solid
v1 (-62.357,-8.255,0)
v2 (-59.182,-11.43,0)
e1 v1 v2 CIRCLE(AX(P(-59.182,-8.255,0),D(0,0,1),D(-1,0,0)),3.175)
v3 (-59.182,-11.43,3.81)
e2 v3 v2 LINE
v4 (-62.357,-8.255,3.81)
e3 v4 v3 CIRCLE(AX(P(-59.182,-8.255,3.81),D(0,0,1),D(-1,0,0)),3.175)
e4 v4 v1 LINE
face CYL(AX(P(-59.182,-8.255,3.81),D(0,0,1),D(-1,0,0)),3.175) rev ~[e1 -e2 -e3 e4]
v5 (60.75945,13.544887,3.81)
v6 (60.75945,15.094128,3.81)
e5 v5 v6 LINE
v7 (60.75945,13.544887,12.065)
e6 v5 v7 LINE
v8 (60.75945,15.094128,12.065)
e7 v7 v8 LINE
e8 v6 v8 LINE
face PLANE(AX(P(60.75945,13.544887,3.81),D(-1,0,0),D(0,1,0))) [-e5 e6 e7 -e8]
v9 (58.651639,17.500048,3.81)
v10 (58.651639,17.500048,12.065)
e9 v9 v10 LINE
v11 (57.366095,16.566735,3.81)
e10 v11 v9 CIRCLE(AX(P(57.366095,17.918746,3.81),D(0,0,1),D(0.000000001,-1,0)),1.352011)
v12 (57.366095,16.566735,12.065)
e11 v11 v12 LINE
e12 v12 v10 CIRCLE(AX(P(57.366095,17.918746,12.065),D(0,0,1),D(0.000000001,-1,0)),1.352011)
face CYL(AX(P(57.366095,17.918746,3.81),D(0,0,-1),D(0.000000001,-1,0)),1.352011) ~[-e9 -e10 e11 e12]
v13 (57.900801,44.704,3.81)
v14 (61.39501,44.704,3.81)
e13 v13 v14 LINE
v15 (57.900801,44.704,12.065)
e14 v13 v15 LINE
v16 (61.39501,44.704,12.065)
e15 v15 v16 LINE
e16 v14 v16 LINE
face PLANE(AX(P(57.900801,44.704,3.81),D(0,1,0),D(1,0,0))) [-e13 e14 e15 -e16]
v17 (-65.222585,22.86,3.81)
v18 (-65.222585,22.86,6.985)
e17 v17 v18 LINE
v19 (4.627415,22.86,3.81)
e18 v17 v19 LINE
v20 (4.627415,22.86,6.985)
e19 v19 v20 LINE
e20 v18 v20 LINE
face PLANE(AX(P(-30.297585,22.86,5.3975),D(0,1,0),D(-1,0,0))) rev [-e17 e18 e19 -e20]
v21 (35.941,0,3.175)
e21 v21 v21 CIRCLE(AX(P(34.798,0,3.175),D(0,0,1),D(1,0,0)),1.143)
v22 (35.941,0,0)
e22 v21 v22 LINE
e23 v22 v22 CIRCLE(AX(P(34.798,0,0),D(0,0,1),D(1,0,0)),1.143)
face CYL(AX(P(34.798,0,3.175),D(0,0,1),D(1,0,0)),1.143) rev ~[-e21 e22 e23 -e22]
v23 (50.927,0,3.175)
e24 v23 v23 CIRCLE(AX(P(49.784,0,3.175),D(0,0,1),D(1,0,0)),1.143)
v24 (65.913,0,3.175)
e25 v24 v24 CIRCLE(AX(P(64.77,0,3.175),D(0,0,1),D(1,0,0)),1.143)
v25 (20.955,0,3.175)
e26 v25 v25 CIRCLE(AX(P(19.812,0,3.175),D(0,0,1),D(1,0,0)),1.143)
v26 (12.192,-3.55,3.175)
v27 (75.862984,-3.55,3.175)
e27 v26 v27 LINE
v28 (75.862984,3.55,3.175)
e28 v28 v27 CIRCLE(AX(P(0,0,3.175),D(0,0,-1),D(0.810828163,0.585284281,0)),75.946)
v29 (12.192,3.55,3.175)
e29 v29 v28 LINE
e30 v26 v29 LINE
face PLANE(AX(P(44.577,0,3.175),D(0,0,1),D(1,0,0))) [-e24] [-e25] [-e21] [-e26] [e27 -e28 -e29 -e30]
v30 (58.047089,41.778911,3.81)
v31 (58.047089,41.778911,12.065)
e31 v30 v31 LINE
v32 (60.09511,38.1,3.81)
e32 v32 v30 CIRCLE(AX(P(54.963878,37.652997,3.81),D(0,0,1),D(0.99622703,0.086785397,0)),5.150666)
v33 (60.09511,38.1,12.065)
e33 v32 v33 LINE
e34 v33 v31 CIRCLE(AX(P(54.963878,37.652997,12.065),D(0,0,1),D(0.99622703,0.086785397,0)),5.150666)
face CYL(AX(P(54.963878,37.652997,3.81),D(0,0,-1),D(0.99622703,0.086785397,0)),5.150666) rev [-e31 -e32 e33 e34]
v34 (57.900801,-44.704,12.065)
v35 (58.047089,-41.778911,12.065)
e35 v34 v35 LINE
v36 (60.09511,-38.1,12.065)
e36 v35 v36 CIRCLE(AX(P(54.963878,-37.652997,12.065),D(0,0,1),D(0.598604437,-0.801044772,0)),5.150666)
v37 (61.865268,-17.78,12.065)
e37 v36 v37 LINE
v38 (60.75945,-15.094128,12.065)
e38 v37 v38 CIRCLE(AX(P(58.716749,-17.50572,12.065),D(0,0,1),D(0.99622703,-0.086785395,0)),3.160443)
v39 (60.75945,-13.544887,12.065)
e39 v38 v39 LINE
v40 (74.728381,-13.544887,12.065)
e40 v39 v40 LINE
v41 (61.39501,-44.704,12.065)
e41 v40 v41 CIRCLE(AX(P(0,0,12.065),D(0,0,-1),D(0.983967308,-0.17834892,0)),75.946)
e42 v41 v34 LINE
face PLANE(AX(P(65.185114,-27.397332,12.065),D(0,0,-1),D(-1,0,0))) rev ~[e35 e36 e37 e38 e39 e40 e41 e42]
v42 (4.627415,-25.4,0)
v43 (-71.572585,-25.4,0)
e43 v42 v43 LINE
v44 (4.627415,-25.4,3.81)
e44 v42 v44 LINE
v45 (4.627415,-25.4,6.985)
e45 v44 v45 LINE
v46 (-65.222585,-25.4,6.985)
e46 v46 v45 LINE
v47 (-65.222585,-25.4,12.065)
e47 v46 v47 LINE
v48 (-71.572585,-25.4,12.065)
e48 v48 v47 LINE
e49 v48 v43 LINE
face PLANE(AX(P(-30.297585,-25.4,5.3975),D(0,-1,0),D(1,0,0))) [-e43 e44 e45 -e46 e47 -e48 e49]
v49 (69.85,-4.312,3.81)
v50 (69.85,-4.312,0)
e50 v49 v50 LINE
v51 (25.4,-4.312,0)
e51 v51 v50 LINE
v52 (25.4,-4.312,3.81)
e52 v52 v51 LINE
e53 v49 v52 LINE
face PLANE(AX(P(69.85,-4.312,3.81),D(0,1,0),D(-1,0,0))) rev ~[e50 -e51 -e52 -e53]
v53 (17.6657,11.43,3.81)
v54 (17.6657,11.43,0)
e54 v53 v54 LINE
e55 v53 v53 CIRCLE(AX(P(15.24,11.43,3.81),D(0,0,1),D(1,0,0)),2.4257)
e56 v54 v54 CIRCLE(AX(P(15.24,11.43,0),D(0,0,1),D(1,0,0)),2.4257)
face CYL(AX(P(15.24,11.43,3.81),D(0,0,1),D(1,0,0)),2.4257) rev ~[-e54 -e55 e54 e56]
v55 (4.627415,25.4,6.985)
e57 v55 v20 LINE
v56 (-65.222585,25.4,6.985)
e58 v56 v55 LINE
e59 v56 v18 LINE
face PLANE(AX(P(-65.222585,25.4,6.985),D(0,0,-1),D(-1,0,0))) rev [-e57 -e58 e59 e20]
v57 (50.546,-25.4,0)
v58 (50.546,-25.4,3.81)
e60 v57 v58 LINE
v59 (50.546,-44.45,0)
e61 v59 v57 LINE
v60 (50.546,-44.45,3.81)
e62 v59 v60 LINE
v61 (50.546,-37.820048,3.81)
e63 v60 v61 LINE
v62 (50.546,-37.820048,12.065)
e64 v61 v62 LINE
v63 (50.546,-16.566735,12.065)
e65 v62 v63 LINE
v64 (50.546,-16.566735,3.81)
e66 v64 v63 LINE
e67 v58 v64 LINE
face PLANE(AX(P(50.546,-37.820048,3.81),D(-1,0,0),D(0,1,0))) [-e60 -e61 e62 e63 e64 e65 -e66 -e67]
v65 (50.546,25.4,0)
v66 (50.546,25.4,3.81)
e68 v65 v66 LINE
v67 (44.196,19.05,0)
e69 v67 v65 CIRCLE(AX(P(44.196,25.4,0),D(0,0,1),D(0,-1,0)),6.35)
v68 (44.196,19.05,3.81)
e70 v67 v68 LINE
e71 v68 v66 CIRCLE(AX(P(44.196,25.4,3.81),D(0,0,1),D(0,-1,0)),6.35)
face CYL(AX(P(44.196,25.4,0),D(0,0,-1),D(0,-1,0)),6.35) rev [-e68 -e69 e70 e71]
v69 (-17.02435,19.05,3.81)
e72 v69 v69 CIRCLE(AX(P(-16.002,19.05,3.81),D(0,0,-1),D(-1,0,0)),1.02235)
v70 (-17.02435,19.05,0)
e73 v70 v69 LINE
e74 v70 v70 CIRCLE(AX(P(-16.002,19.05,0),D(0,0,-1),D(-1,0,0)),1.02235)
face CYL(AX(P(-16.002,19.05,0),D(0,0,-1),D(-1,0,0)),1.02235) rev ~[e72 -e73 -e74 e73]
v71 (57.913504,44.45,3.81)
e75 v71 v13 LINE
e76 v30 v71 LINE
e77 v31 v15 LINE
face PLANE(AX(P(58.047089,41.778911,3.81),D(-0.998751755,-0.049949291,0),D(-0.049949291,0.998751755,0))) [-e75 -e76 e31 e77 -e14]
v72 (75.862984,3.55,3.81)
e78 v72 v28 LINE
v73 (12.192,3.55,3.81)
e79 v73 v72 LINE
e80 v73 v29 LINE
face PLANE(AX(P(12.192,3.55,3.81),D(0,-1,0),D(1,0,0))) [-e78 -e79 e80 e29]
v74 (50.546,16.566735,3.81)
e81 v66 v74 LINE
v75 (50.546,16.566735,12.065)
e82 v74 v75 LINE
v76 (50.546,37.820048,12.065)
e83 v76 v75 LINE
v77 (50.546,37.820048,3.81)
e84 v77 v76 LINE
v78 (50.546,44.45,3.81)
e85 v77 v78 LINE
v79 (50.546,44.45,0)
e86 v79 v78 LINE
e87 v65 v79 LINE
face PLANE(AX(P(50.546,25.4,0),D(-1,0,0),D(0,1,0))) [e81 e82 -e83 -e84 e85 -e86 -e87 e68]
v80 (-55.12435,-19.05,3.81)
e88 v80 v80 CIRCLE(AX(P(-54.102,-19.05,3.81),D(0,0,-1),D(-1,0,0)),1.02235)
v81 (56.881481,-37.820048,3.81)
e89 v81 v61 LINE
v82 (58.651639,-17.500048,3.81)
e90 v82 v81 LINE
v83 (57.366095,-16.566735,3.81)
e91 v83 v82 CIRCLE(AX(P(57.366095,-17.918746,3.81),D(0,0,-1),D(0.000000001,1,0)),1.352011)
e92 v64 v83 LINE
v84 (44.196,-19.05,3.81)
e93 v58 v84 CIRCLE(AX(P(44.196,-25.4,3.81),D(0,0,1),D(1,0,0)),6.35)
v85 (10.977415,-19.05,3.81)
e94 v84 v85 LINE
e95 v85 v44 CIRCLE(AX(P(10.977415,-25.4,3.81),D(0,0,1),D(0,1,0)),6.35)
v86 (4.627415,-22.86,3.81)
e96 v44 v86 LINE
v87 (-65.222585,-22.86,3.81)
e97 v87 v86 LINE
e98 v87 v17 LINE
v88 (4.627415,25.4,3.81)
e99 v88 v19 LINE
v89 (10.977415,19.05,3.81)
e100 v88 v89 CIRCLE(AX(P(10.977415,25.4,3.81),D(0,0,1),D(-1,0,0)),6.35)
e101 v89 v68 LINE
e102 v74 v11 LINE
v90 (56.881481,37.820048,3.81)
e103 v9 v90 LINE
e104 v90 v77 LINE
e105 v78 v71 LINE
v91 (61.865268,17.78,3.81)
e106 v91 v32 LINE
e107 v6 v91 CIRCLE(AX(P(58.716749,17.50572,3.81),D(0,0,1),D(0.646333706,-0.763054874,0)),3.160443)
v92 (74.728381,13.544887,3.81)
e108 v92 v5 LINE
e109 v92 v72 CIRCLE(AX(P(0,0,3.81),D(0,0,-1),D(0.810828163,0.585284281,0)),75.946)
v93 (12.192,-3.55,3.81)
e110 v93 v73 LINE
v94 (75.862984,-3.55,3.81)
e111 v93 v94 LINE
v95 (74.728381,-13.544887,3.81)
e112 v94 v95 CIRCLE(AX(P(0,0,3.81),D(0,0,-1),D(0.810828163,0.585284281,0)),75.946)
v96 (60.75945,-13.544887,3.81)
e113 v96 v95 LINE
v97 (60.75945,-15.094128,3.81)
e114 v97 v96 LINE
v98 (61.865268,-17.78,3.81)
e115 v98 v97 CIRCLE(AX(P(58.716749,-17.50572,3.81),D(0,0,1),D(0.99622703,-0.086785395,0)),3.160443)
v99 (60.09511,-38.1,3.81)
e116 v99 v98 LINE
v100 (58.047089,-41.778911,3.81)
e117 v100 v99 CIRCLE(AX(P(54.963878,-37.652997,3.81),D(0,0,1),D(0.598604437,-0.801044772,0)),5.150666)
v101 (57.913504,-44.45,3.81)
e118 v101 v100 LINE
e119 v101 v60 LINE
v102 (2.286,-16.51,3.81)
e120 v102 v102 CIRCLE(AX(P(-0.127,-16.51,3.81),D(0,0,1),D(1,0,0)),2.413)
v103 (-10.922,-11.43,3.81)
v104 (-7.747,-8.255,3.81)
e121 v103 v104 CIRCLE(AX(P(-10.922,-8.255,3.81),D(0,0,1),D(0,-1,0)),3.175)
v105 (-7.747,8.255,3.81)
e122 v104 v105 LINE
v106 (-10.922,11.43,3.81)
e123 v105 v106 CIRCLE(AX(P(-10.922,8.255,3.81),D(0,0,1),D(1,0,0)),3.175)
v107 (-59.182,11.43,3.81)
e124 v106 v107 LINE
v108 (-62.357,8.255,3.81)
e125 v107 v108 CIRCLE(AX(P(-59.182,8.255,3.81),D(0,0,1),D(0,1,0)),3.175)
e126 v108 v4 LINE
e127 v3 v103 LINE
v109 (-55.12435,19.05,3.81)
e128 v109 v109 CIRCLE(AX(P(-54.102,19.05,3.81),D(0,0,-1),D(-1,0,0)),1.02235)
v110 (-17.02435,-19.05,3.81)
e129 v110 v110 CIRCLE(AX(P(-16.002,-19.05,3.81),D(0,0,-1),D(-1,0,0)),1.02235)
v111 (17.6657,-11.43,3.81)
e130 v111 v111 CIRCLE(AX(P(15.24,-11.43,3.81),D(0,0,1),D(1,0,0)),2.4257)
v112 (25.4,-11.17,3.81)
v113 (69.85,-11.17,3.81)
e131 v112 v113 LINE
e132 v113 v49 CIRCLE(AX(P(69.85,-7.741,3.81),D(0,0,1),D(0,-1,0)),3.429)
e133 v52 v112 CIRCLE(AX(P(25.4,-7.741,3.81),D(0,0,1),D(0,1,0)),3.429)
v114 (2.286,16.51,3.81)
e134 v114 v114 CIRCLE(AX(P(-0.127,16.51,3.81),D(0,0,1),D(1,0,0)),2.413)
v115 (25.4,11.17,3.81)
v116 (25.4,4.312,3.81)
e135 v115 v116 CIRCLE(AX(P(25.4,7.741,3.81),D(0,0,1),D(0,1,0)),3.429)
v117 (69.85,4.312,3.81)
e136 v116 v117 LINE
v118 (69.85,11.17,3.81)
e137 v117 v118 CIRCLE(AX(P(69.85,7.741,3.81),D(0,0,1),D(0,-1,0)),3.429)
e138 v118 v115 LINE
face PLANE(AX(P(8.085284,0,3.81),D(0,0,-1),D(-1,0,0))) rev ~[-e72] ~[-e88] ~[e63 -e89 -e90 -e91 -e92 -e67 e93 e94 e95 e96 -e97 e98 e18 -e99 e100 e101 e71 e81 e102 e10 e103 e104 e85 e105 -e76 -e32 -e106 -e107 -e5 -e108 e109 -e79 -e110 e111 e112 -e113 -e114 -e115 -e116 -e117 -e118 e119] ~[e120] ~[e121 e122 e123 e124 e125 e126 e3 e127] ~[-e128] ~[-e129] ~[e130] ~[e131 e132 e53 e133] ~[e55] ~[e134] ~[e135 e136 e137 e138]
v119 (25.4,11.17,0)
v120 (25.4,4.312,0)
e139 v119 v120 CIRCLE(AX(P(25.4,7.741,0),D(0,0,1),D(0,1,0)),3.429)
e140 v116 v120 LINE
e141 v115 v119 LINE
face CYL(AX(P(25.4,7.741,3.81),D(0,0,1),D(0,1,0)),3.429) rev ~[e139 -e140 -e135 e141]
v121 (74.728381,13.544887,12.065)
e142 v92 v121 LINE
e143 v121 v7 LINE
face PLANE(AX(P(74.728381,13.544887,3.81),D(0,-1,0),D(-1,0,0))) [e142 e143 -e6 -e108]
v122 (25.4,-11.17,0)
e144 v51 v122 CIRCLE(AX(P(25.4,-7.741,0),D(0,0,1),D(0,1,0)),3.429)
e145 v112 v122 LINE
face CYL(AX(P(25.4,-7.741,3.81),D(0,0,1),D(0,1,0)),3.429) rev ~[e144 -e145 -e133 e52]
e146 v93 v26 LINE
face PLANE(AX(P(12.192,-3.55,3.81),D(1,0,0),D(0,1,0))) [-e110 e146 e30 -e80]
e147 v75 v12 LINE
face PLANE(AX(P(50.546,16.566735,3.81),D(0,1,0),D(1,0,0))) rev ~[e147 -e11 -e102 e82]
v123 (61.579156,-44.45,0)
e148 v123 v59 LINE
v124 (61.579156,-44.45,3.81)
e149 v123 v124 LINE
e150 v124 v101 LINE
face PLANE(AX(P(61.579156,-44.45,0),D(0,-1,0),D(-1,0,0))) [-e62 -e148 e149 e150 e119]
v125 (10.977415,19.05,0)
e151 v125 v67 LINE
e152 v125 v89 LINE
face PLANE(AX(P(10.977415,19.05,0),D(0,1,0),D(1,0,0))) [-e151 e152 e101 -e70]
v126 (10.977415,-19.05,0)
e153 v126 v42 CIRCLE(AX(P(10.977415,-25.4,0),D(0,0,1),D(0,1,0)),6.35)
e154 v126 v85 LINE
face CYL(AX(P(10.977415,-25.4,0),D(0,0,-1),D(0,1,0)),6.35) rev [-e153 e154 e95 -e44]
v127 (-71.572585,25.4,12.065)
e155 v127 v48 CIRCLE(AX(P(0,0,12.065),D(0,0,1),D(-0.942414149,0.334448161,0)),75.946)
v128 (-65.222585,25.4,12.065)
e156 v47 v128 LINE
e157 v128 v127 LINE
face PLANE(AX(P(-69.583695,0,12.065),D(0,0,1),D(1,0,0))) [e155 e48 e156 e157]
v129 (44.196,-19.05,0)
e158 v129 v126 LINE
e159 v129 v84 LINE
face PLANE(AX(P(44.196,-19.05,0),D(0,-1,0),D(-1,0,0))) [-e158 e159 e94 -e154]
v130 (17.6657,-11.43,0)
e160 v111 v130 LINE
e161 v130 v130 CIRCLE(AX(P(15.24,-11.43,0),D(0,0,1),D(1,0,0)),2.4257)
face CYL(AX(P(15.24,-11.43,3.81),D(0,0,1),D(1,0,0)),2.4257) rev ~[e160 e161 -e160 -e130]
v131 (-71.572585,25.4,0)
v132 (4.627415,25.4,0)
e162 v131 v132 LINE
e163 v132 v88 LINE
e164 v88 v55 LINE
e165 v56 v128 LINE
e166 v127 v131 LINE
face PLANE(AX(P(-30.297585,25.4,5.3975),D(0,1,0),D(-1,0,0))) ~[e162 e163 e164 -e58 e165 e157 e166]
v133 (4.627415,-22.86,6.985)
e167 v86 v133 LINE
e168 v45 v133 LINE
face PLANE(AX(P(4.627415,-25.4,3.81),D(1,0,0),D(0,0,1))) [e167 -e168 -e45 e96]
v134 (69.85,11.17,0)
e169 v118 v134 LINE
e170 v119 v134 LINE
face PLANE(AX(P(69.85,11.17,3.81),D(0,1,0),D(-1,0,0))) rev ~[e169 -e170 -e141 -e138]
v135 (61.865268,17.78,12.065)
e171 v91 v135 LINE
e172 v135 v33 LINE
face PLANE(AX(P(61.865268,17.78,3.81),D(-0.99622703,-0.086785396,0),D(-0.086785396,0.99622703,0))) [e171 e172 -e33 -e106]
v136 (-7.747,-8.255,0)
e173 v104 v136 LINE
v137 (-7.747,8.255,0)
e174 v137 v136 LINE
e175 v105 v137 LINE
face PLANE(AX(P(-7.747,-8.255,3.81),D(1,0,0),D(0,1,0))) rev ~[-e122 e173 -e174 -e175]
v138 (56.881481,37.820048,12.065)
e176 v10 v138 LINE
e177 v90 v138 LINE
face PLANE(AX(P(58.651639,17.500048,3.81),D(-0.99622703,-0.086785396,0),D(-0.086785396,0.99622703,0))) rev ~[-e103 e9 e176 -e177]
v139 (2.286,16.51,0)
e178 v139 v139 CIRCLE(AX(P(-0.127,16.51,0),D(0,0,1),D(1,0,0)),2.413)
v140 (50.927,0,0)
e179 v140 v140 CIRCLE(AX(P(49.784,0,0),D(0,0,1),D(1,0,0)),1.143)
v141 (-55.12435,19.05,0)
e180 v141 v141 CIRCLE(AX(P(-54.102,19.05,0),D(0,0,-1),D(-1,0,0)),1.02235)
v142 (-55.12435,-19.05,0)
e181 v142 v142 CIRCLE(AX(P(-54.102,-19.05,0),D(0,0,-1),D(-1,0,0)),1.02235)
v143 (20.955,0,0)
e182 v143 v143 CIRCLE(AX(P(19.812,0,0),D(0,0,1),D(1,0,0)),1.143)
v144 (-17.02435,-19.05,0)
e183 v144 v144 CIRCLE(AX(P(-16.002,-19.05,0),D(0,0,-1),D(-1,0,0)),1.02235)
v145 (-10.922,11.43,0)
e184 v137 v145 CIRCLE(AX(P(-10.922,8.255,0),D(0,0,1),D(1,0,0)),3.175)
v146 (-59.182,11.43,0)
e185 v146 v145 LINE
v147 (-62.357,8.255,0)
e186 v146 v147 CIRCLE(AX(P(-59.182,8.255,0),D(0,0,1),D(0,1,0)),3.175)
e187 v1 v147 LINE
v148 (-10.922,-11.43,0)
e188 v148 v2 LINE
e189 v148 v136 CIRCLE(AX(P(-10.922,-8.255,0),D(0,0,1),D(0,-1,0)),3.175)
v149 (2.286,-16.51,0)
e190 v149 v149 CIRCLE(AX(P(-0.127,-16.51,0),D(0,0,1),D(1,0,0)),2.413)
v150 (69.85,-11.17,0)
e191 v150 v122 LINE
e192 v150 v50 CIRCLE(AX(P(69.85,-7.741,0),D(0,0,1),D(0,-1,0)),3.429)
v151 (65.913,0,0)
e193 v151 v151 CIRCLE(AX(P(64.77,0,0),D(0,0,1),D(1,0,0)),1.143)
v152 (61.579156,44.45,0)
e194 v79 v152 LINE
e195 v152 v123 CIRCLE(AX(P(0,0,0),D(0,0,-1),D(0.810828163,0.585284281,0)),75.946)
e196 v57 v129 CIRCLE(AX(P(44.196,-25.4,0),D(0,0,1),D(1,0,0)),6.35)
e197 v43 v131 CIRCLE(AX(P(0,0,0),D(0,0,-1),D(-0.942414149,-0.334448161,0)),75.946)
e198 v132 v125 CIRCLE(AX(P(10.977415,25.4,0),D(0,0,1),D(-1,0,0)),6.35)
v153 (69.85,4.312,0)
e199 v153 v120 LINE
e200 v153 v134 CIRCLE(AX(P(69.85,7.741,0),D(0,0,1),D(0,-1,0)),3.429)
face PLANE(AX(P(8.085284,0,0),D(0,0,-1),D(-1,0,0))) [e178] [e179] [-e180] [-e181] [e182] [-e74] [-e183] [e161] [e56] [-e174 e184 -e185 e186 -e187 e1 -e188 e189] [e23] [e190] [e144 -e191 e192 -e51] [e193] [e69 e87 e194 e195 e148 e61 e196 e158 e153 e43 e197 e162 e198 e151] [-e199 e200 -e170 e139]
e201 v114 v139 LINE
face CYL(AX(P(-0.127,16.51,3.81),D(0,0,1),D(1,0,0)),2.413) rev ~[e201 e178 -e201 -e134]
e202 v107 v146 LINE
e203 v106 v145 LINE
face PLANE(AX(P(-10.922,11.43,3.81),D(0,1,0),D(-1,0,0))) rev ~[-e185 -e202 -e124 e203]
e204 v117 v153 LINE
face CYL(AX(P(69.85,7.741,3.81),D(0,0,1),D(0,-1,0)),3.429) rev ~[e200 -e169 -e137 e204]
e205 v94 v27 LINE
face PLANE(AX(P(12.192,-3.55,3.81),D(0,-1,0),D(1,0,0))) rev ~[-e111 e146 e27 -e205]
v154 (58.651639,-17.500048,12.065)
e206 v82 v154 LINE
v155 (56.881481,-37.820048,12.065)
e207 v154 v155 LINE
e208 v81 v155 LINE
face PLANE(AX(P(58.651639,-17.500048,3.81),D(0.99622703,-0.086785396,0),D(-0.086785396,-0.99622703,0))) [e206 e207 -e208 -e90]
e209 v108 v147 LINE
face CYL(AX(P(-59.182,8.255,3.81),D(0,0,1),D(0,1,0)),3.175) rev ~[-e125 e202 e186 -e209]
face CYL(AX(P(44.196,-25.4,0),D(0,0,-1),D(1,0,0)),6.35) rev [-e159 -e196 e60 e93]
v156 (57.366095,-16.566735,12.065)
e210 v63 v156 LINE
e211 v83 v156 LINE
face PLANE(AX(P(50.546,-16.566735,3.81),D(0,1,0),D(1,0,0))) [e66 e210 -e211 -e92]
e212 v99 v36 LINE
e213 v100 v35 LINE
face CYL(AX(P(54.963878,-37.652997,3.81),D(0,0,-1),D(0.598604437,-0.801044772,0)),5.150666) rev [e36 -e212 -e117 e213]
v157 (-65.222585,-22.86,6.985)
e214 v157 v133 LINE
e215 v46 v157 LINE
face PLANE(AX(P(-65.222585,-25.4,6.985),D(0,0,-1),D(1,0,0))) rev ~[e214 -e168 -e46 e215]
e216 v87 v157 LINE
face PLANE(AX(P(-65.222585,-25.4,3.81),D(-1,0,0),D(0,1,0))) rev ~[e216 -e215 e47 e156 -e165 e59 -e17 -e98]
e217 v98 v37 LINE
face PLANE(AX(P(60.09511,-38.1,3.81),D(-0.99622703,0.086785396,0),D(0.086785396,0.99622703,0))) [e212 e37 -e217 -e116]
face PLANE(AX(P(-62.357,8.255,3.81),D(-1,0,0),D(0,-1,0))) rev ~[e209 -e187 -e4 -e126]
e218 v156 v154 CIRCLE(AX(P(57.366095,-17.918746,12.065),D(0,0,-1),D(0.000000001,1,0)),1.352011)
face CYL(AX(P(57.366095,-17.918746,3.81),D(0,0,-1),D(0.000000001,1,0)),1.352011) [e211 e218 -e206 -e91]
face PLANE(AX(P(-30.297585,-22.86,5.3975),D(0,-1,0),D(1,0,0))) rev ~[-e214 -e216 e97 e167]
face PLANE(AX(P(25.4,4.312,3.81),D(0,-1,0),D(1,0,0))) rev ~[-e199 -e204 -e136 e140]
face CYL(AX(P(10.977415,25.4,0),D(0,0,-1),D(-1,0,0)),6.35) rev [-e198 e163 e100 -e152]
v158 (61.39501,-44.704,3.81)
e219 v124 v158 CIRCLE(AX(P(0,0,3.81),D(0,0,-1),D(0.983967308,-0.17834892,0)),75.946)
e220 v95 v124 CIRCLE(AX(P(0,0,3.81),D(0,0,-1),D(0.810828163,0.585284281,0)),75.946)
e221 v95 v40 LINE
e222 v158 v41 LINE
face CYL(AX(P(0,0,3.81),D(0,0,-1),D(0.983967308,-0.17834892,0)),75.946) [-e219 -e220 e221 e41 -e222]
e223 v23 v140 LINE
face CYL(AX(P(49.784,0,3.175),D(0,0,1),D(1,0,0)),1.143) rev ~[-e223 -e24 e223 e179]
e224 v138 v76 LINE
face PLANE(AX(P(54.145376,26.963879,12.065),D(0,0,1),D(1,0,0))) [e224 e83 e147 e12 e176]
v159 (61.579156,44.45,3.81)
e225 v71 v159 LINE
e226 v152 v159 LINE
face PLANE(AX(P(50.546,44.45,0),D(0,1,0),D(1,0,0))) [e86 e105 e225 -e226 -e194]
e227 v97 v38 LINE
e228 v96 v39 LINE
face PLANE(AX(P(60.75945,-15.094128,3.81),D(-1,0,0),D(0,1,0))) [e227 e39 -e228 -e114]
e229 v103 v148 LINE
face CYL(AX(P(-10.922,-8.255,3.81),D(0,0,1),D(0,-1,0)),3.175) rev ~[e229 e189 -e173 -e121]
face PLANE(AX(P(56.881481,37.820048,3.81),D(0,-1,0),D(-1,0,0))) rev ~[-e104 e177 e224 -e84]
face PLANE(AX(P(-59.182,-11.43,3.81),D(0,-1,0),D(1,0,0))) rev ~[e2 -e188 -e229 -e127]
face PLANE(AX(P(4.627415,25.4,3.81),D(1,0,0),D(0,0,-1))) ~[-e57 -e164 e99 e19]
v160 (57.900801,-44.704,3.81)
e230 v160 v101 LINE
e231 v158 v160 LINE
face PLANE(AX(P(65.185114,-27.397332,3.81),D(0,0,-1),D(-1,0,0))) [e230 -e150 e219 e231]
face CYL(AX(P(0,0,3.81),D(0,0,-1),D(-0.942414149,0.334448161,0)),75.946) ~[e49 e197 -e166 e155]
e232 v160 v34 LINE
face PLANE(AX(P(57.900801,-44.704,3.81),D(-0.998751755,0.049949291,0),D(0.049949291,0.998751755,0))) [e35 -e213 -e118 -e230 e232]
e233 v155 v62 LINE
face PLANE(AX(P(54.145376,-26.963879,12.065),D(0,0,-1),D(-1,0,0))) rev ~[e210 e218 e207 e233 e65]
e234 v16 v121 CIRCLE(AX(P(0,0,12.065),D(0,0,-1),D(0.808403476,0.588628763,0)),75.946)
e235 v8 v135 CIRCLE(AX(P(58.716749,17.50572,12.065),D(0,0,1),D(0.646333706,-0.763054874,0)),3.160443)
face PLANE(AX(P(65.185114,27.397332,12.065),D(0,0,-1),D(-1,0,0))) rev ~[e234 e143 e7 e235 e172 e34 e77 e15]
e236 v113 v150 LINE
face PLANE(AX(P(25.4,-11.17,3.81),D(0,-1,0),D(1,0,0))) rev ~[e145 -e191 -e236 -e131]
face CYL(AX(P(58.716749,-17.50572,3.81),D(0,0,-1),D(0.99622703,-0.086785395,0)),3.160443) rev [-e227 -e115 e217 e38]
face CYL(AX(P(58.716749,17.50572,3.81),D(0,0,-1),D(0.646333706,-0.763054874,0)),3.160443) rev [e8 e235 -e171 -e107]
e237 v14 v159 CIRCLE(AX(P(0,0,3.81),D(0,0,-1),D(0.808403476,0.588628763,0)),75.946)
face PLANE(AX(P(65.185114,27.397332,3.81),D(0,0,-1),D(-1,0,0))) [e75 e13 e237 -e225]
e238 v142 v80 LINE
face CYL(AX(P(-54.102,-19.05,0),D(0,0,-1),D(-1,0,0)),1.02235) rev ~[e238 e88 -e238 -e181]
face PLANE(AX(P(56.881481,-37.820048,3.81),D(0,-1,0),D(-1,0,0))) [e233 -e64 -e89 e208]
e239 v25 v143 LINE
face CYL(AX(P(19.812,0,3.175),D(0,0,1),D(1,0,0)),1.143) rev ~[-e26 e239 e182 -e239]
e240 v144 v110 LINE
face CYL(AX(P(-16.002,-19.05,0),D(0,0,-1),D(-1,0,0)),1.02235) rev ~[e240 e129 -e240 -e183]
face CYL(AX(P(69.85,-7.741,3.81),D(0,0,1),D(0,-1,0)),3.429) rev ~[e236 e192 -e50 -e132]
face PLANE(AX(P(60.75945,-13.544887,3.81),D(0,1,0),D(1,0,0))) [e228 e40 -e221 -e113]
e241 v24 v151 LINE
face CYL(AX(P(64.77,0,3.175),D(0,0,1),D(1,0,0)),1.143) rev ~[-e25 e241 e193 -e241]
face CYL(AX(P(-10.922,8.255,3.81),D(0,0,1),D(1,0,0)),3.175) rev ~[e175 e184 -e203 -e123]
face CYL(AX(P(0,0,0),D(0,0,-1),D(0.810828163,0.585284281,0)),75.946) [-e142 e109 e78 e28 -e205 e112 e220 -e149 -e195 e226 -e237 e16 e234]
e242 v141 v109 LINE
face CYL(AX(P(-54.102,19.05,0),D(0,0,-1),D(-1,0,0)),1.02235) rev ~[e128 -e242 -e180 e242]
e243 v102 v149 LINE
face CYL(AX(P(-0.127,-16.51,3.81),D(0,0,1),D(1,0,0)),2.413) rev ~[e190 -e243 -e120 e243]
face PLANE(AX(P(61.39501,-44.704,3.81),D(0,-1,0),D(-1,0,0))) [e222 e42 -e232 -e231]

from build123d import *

# Parameters (mm, degrees)
BOSS_EXTRUDE1_DEPTH = 3.81
BOSS_EXTRUDE2_DEPTH = 8.255
SKETCH3_W           = 64.77
SKETCH3_H           = 7.1
CUT_EXTRUDE1_DEPTH  = 0.635
CUT_EXTRUDE4_DEPTH  = 4.81
CUT_EXTRUDE5_DEPTH  = 4.81
SKETCH12_R          = 2.4257
CUT_EXTRUDE6_DEPTH  = 4.81
SKETCH4_R           = 1.143
CUT_EXTRUDE2_DEPTH  = 11.43
SKETCH17_R          = 2.413
CUT_EXTRUDE9_DEPTH  = 4.81
BOSS_EXTRUDE5_DEPTH = 8.255
SKETCH20_W          = 69.85
SKETCH20_H          = 3.175
BOSS_EXTRUDE6_DEPTH = 2.54
SKETCH21_R          = 1.02235
CUT_EXTRUDE10_DEPTH = 13.065


with BuildPart() as part:
    # Sketch1 → Boss-Extrude1 (new body)
    with BuildSketch(Plane.XY):
        with BuildLine():
            Line((10.977415053, 19.05), (44.196, 19.05))
            ThreePointArc((44.196, 19.05), (48.686128061, 20.909871939), (50.546, 25.4))
            Line((50.546, 25.4), (50.546, 44.45))
            Line((50.546, 44.45), (61.579155694, 44.45))
            ThreePointArc((61.579155694, 44.45), (75.946, 0), (61.579155694, -44.45))
            Line((61.579155694, -44.45), (50.546, -44.45))
            Line((50.546, -44.45), (50.546, -25.4))
            ThreePointArc((50.546, -25.4), (48.686128061, -20.909871939), (44.196, -19.05))
            Line((44.196, -19.05), (10.977415053, -19.05))
            ThreePointArc((10.977415053, -19.05), (6.487286992, -20.909871939), (4.627415053, -25.4))
            Line((4.627415053, -25.4), (-71.572584947, -25.4))
            ThreePointArc((-71.572584947, -25.4), (-75.946, 0), (-71.572584947, 25.4))
            Line((-71.572584947, 25.4), (4.627415053, 25.4))
            ThreePointArc((4.627415053, 25.4), (6.487286992, 20.909871939), (10.977415053, 19.05))
        make_face()
    extrude(amount=BOSS_EXTRUDE1_DEPTH)

    # Sketch2 → Boss-Extrude2 (add)
    with BuildSketch(Plane.XY.offset(3.81)):
        with BuildLine():
            Line((61.865268471, 17.78), (60.095110466, 38.1))
            ThreePointArc((60.095110466, 38.1), (59.464196764, 40.158289632), (58.047089349, 41.778911391))
            Line((58.047089349, 41.778911391), (57.900800643, 44.704))
            Line((57.900800643, 44.704), (61.395010384, 44.704))
            ThreePointArc((61.395010384, 44.704), (69.822038137, 29.877715884), (74.728381149, 13.544887112))
            Line((74.728381149, 13.544887112), (60.759450402, 13.544887112))
            Line((60.759450402, 13.544887112), (60.759450402, 15.094127876))
            ThreePointArc((60.759450402, 15.094127876), (61.639191639, 16.302501703), (61.865268471, 17.78))
        make_face()
        with BuildLine():
            Line((58.651639318, 17.500047669), (56.881481313, 37.820047669))
            Line((56.881481313, 37.820047669), (50.546, 37.820047669))
            Line((50.546, 37.820047669), (50.546, 16.566735288))
            Line((50.546, 16.566735288), (57.366094516, 16.566735288))
            ThreePointArc((57.366094516, 16.566735288), (58.160401987, 16.824667019), (58.651639318, 17.500047669))
        make_face()
        with BuildLine():
            Line((60.759450402, -13.544887112), (74.728381149, -13.544887112))
            ThreePointArc((74.728381149, -13.544887112), (69.822038137, -29.877715884), (61.395010384, -44.704))
            Line((61.395010384, -44.704), (57.900800643, -44.704))
            Line((57.900800643, -44.704), (58.047089349, -41.778911391))
            ThreePointArc((58.047089349, -41.778911391), (59.464196764, -40.158289632), (60.095110466, -38.1))
            Line((60.095110466, -38.1), (61.865268471, -17.78))
            ThreePointArc((61.865268471, -17.78), (61.639191639, -16.302501703), (60.759450402, -15.094127876))
            Line((60.759450402, -15.094127876), (60.759450402, -13.544887112))
        make_face()
        with BuildLine():
            Line((50.546, -16.566735288), (57.366094516, -16.566735288))
            ThreePointArc((57.366094516, -16.566735288), (58.160401987, -16.824667019), (58.651639318, -17.500047669))
            Line((58.651639318, -17.500047669), (56.881481313, -37.820047669))
            Line((56.881481313, -37.820047669), (50.546, -37.820047669))
            Line((50.546, -37.820047669), (50.546, -16.566735288))
        make_face()
    extrude(amount=BOSS_EXTRUDE2_DEPTH)

    # Sketch3 → Cut-Extrude1 (cut)
    with BuildSketch(Plane.XY.offset(3.81)):
        with Locations((44.577, 0)):
            Rectangle(SKETCH3_W, SKETCH3_H)
    extrude(amount=-CUT_EXTRUDE1_DEPTH, mode=Mode.SUBTRACT)

    # Sketch9 → Cut-Extrude4 (cut, through all)
    with BuildSketch(Plane.XY.offset(3.81)):
        with BuildLine():
            Line((69.85, 11.17), (25.4, 11.17))
            ThreePointArc((25.4, 11.17), (21.971, 7.741), (25.4, 4.312))
            Line((25.4, 4.312), (69.85, 4.312))
            ThreePointArc((69.85, 4.312), (73.279, 7.741), (69.85, 11.17))
        make_face()
        with BuildLine():
            Line((69.85, -4.312), (25.4, -4.312))
            ThreePointArc((25.4, -4.312), (21.971, -7.741), (25.4, -11.17))
            Line((25.4, -11.17), (69.85, -11.17))
            ThreePointArc((69.85, -11.17), (73.279, -7.741), (69.85, -4.312))
        make_face()
    extrude(amount=-CUT_EXTRUDE4_DEPTH, mode=Mode.SUBTRACT)

    # Sketch10 → Cut-Extrude5 (cut, through all)
    with BuildSketch(Plane.XY.offset(3.81)):
        with BuildLine():
            Line((-10.922, 11.43), (-59.182, 11.43))
            ThreePointArc((-59.182, 11.43), (-61.42706403, 10.50006403), (-62.357, 8.255))
            Line((-62.357, 8.255), (-62.357, -8.255))
            ThreePointArc((-62.357, -8.255), (-61.42706403, -10.50006403), (-59.182, -11.43))
            Line((-59.182, -11.43), (-10.922, -11.43))
            ThreePointArc((-10.922, -11.43), (-8.67693597, -10.50006403), (-7.747, -8.255))
            Line((-7.747, -8.255), (-7.747, 8.255))
            ThreePointArc((-7.747, 8.255), (-8.67693597, 10.50006403), (-10.922, 11.43))
        make_face()
    extrude(amount=-CUT_EXTRUDE5_DEPTH, mode=Mode.SUBTRACT)

    # Sketch12 → Cut-Extrude6 (cut, through all)
    with BuildSketch(Plane.XY.offset(3.81)):
        with Locations((15.24, 11.43)):
            Circle(SKETCH12_R)
        with Locations((15.24, -11.43)):
            Circle(SKETCH12_R)
    extrude(amount=-CUT_EXTRUDE6_DEPTH, mode=Mode.SUBTRACT)

    # Sketch4 → Cut-Extrude2 (cut)
    with BuildSketch(Plane.XY.offset(3.175)):
        with Locations((19.812, 0)):
            Circle(SKETCH4_R)
        with Locations((34.798, 0)):
            Circle(SKETCH4_R)
        with Locations((49.784, 0)):
            Circle(SKETCH4_R)
        with Locations((64.77, 0)):
            Circle(SKETCH4_R)
    extrude(amount=-CUT_EXTRUDE2_DEPTH, mode=Mode.SUBTRACT)

    # Sketch17 → Cut-Extrude9 (cut, through all)
    with BuildSketch(Plane.XY.offset(3.81)):
        with Locations((-0.127, 16.51)):
            Circle(SKETCH17_R)
        with Locations((-0.127, -16.51)):
            Circle(SKETCH17_R)
    extrude(amount=-CUT_EXTRUDE9_DEPTH, mode=Mode.SUBTRACT)

    # Sketch19 → Boss-Extrude5 (add)
    with BuildSketch(Plane.XY.offset(3.81)):
        with BuildLine():
            Line((-71.572584947, -25.4), (-65.222584947, -25.4))
            Line((-65.222584947, -25.4), (-65.222584947, 25.4))
            Line((-65.222584947, 25.4), (-71.572584947, 25.4))
            ThreePointArc((-71.572584947, 25.4), (-75.946, 0), (-71.572584947, -25.4))
        make_face()
    extrude(amount=BOSS_EXTRUDE5_DEPTH)

    # Sketch20 → Boss-Extrude6 (add)
    with BuildSketch(Plane.XZ.offset(25.4)):
        with Locations((-30.297584947, 5.3975)):
            Rectangle(SKETCH20_W, SKETCH20_H)
    boss_extrude6 = extrude(amount=-BOSS_EXTRUDE6_DEPTH)

    # Mirror1: Boss-Extrude6 across plane
    add(boss_extrude6.mirror(Plane.ZX))

    # Sketch21 → Cut-Extrude10 (cut, through all)
    with BuildSketch(Plane(origin=(0, 0, 0), x_dir=(-1, 0, 0), z_dir=(0, 0, -1))):
        with Locations((54.102, 19.05)):
            Circle(SKETCH21_R)
        with Locations((16.002, 19.05)):
            Circle(SKETCH21_R)
        with Locations((16.002, -19.05)):
            Circle(SKETCH21_R)
        with Locations((54.102, -19.05)):
            Circle(SKETCH21_R)
    extrude(amount=-CUT_EXTRUDE10_DEPTH, mode=Mode.SUBTRACT)


solid = part.part
